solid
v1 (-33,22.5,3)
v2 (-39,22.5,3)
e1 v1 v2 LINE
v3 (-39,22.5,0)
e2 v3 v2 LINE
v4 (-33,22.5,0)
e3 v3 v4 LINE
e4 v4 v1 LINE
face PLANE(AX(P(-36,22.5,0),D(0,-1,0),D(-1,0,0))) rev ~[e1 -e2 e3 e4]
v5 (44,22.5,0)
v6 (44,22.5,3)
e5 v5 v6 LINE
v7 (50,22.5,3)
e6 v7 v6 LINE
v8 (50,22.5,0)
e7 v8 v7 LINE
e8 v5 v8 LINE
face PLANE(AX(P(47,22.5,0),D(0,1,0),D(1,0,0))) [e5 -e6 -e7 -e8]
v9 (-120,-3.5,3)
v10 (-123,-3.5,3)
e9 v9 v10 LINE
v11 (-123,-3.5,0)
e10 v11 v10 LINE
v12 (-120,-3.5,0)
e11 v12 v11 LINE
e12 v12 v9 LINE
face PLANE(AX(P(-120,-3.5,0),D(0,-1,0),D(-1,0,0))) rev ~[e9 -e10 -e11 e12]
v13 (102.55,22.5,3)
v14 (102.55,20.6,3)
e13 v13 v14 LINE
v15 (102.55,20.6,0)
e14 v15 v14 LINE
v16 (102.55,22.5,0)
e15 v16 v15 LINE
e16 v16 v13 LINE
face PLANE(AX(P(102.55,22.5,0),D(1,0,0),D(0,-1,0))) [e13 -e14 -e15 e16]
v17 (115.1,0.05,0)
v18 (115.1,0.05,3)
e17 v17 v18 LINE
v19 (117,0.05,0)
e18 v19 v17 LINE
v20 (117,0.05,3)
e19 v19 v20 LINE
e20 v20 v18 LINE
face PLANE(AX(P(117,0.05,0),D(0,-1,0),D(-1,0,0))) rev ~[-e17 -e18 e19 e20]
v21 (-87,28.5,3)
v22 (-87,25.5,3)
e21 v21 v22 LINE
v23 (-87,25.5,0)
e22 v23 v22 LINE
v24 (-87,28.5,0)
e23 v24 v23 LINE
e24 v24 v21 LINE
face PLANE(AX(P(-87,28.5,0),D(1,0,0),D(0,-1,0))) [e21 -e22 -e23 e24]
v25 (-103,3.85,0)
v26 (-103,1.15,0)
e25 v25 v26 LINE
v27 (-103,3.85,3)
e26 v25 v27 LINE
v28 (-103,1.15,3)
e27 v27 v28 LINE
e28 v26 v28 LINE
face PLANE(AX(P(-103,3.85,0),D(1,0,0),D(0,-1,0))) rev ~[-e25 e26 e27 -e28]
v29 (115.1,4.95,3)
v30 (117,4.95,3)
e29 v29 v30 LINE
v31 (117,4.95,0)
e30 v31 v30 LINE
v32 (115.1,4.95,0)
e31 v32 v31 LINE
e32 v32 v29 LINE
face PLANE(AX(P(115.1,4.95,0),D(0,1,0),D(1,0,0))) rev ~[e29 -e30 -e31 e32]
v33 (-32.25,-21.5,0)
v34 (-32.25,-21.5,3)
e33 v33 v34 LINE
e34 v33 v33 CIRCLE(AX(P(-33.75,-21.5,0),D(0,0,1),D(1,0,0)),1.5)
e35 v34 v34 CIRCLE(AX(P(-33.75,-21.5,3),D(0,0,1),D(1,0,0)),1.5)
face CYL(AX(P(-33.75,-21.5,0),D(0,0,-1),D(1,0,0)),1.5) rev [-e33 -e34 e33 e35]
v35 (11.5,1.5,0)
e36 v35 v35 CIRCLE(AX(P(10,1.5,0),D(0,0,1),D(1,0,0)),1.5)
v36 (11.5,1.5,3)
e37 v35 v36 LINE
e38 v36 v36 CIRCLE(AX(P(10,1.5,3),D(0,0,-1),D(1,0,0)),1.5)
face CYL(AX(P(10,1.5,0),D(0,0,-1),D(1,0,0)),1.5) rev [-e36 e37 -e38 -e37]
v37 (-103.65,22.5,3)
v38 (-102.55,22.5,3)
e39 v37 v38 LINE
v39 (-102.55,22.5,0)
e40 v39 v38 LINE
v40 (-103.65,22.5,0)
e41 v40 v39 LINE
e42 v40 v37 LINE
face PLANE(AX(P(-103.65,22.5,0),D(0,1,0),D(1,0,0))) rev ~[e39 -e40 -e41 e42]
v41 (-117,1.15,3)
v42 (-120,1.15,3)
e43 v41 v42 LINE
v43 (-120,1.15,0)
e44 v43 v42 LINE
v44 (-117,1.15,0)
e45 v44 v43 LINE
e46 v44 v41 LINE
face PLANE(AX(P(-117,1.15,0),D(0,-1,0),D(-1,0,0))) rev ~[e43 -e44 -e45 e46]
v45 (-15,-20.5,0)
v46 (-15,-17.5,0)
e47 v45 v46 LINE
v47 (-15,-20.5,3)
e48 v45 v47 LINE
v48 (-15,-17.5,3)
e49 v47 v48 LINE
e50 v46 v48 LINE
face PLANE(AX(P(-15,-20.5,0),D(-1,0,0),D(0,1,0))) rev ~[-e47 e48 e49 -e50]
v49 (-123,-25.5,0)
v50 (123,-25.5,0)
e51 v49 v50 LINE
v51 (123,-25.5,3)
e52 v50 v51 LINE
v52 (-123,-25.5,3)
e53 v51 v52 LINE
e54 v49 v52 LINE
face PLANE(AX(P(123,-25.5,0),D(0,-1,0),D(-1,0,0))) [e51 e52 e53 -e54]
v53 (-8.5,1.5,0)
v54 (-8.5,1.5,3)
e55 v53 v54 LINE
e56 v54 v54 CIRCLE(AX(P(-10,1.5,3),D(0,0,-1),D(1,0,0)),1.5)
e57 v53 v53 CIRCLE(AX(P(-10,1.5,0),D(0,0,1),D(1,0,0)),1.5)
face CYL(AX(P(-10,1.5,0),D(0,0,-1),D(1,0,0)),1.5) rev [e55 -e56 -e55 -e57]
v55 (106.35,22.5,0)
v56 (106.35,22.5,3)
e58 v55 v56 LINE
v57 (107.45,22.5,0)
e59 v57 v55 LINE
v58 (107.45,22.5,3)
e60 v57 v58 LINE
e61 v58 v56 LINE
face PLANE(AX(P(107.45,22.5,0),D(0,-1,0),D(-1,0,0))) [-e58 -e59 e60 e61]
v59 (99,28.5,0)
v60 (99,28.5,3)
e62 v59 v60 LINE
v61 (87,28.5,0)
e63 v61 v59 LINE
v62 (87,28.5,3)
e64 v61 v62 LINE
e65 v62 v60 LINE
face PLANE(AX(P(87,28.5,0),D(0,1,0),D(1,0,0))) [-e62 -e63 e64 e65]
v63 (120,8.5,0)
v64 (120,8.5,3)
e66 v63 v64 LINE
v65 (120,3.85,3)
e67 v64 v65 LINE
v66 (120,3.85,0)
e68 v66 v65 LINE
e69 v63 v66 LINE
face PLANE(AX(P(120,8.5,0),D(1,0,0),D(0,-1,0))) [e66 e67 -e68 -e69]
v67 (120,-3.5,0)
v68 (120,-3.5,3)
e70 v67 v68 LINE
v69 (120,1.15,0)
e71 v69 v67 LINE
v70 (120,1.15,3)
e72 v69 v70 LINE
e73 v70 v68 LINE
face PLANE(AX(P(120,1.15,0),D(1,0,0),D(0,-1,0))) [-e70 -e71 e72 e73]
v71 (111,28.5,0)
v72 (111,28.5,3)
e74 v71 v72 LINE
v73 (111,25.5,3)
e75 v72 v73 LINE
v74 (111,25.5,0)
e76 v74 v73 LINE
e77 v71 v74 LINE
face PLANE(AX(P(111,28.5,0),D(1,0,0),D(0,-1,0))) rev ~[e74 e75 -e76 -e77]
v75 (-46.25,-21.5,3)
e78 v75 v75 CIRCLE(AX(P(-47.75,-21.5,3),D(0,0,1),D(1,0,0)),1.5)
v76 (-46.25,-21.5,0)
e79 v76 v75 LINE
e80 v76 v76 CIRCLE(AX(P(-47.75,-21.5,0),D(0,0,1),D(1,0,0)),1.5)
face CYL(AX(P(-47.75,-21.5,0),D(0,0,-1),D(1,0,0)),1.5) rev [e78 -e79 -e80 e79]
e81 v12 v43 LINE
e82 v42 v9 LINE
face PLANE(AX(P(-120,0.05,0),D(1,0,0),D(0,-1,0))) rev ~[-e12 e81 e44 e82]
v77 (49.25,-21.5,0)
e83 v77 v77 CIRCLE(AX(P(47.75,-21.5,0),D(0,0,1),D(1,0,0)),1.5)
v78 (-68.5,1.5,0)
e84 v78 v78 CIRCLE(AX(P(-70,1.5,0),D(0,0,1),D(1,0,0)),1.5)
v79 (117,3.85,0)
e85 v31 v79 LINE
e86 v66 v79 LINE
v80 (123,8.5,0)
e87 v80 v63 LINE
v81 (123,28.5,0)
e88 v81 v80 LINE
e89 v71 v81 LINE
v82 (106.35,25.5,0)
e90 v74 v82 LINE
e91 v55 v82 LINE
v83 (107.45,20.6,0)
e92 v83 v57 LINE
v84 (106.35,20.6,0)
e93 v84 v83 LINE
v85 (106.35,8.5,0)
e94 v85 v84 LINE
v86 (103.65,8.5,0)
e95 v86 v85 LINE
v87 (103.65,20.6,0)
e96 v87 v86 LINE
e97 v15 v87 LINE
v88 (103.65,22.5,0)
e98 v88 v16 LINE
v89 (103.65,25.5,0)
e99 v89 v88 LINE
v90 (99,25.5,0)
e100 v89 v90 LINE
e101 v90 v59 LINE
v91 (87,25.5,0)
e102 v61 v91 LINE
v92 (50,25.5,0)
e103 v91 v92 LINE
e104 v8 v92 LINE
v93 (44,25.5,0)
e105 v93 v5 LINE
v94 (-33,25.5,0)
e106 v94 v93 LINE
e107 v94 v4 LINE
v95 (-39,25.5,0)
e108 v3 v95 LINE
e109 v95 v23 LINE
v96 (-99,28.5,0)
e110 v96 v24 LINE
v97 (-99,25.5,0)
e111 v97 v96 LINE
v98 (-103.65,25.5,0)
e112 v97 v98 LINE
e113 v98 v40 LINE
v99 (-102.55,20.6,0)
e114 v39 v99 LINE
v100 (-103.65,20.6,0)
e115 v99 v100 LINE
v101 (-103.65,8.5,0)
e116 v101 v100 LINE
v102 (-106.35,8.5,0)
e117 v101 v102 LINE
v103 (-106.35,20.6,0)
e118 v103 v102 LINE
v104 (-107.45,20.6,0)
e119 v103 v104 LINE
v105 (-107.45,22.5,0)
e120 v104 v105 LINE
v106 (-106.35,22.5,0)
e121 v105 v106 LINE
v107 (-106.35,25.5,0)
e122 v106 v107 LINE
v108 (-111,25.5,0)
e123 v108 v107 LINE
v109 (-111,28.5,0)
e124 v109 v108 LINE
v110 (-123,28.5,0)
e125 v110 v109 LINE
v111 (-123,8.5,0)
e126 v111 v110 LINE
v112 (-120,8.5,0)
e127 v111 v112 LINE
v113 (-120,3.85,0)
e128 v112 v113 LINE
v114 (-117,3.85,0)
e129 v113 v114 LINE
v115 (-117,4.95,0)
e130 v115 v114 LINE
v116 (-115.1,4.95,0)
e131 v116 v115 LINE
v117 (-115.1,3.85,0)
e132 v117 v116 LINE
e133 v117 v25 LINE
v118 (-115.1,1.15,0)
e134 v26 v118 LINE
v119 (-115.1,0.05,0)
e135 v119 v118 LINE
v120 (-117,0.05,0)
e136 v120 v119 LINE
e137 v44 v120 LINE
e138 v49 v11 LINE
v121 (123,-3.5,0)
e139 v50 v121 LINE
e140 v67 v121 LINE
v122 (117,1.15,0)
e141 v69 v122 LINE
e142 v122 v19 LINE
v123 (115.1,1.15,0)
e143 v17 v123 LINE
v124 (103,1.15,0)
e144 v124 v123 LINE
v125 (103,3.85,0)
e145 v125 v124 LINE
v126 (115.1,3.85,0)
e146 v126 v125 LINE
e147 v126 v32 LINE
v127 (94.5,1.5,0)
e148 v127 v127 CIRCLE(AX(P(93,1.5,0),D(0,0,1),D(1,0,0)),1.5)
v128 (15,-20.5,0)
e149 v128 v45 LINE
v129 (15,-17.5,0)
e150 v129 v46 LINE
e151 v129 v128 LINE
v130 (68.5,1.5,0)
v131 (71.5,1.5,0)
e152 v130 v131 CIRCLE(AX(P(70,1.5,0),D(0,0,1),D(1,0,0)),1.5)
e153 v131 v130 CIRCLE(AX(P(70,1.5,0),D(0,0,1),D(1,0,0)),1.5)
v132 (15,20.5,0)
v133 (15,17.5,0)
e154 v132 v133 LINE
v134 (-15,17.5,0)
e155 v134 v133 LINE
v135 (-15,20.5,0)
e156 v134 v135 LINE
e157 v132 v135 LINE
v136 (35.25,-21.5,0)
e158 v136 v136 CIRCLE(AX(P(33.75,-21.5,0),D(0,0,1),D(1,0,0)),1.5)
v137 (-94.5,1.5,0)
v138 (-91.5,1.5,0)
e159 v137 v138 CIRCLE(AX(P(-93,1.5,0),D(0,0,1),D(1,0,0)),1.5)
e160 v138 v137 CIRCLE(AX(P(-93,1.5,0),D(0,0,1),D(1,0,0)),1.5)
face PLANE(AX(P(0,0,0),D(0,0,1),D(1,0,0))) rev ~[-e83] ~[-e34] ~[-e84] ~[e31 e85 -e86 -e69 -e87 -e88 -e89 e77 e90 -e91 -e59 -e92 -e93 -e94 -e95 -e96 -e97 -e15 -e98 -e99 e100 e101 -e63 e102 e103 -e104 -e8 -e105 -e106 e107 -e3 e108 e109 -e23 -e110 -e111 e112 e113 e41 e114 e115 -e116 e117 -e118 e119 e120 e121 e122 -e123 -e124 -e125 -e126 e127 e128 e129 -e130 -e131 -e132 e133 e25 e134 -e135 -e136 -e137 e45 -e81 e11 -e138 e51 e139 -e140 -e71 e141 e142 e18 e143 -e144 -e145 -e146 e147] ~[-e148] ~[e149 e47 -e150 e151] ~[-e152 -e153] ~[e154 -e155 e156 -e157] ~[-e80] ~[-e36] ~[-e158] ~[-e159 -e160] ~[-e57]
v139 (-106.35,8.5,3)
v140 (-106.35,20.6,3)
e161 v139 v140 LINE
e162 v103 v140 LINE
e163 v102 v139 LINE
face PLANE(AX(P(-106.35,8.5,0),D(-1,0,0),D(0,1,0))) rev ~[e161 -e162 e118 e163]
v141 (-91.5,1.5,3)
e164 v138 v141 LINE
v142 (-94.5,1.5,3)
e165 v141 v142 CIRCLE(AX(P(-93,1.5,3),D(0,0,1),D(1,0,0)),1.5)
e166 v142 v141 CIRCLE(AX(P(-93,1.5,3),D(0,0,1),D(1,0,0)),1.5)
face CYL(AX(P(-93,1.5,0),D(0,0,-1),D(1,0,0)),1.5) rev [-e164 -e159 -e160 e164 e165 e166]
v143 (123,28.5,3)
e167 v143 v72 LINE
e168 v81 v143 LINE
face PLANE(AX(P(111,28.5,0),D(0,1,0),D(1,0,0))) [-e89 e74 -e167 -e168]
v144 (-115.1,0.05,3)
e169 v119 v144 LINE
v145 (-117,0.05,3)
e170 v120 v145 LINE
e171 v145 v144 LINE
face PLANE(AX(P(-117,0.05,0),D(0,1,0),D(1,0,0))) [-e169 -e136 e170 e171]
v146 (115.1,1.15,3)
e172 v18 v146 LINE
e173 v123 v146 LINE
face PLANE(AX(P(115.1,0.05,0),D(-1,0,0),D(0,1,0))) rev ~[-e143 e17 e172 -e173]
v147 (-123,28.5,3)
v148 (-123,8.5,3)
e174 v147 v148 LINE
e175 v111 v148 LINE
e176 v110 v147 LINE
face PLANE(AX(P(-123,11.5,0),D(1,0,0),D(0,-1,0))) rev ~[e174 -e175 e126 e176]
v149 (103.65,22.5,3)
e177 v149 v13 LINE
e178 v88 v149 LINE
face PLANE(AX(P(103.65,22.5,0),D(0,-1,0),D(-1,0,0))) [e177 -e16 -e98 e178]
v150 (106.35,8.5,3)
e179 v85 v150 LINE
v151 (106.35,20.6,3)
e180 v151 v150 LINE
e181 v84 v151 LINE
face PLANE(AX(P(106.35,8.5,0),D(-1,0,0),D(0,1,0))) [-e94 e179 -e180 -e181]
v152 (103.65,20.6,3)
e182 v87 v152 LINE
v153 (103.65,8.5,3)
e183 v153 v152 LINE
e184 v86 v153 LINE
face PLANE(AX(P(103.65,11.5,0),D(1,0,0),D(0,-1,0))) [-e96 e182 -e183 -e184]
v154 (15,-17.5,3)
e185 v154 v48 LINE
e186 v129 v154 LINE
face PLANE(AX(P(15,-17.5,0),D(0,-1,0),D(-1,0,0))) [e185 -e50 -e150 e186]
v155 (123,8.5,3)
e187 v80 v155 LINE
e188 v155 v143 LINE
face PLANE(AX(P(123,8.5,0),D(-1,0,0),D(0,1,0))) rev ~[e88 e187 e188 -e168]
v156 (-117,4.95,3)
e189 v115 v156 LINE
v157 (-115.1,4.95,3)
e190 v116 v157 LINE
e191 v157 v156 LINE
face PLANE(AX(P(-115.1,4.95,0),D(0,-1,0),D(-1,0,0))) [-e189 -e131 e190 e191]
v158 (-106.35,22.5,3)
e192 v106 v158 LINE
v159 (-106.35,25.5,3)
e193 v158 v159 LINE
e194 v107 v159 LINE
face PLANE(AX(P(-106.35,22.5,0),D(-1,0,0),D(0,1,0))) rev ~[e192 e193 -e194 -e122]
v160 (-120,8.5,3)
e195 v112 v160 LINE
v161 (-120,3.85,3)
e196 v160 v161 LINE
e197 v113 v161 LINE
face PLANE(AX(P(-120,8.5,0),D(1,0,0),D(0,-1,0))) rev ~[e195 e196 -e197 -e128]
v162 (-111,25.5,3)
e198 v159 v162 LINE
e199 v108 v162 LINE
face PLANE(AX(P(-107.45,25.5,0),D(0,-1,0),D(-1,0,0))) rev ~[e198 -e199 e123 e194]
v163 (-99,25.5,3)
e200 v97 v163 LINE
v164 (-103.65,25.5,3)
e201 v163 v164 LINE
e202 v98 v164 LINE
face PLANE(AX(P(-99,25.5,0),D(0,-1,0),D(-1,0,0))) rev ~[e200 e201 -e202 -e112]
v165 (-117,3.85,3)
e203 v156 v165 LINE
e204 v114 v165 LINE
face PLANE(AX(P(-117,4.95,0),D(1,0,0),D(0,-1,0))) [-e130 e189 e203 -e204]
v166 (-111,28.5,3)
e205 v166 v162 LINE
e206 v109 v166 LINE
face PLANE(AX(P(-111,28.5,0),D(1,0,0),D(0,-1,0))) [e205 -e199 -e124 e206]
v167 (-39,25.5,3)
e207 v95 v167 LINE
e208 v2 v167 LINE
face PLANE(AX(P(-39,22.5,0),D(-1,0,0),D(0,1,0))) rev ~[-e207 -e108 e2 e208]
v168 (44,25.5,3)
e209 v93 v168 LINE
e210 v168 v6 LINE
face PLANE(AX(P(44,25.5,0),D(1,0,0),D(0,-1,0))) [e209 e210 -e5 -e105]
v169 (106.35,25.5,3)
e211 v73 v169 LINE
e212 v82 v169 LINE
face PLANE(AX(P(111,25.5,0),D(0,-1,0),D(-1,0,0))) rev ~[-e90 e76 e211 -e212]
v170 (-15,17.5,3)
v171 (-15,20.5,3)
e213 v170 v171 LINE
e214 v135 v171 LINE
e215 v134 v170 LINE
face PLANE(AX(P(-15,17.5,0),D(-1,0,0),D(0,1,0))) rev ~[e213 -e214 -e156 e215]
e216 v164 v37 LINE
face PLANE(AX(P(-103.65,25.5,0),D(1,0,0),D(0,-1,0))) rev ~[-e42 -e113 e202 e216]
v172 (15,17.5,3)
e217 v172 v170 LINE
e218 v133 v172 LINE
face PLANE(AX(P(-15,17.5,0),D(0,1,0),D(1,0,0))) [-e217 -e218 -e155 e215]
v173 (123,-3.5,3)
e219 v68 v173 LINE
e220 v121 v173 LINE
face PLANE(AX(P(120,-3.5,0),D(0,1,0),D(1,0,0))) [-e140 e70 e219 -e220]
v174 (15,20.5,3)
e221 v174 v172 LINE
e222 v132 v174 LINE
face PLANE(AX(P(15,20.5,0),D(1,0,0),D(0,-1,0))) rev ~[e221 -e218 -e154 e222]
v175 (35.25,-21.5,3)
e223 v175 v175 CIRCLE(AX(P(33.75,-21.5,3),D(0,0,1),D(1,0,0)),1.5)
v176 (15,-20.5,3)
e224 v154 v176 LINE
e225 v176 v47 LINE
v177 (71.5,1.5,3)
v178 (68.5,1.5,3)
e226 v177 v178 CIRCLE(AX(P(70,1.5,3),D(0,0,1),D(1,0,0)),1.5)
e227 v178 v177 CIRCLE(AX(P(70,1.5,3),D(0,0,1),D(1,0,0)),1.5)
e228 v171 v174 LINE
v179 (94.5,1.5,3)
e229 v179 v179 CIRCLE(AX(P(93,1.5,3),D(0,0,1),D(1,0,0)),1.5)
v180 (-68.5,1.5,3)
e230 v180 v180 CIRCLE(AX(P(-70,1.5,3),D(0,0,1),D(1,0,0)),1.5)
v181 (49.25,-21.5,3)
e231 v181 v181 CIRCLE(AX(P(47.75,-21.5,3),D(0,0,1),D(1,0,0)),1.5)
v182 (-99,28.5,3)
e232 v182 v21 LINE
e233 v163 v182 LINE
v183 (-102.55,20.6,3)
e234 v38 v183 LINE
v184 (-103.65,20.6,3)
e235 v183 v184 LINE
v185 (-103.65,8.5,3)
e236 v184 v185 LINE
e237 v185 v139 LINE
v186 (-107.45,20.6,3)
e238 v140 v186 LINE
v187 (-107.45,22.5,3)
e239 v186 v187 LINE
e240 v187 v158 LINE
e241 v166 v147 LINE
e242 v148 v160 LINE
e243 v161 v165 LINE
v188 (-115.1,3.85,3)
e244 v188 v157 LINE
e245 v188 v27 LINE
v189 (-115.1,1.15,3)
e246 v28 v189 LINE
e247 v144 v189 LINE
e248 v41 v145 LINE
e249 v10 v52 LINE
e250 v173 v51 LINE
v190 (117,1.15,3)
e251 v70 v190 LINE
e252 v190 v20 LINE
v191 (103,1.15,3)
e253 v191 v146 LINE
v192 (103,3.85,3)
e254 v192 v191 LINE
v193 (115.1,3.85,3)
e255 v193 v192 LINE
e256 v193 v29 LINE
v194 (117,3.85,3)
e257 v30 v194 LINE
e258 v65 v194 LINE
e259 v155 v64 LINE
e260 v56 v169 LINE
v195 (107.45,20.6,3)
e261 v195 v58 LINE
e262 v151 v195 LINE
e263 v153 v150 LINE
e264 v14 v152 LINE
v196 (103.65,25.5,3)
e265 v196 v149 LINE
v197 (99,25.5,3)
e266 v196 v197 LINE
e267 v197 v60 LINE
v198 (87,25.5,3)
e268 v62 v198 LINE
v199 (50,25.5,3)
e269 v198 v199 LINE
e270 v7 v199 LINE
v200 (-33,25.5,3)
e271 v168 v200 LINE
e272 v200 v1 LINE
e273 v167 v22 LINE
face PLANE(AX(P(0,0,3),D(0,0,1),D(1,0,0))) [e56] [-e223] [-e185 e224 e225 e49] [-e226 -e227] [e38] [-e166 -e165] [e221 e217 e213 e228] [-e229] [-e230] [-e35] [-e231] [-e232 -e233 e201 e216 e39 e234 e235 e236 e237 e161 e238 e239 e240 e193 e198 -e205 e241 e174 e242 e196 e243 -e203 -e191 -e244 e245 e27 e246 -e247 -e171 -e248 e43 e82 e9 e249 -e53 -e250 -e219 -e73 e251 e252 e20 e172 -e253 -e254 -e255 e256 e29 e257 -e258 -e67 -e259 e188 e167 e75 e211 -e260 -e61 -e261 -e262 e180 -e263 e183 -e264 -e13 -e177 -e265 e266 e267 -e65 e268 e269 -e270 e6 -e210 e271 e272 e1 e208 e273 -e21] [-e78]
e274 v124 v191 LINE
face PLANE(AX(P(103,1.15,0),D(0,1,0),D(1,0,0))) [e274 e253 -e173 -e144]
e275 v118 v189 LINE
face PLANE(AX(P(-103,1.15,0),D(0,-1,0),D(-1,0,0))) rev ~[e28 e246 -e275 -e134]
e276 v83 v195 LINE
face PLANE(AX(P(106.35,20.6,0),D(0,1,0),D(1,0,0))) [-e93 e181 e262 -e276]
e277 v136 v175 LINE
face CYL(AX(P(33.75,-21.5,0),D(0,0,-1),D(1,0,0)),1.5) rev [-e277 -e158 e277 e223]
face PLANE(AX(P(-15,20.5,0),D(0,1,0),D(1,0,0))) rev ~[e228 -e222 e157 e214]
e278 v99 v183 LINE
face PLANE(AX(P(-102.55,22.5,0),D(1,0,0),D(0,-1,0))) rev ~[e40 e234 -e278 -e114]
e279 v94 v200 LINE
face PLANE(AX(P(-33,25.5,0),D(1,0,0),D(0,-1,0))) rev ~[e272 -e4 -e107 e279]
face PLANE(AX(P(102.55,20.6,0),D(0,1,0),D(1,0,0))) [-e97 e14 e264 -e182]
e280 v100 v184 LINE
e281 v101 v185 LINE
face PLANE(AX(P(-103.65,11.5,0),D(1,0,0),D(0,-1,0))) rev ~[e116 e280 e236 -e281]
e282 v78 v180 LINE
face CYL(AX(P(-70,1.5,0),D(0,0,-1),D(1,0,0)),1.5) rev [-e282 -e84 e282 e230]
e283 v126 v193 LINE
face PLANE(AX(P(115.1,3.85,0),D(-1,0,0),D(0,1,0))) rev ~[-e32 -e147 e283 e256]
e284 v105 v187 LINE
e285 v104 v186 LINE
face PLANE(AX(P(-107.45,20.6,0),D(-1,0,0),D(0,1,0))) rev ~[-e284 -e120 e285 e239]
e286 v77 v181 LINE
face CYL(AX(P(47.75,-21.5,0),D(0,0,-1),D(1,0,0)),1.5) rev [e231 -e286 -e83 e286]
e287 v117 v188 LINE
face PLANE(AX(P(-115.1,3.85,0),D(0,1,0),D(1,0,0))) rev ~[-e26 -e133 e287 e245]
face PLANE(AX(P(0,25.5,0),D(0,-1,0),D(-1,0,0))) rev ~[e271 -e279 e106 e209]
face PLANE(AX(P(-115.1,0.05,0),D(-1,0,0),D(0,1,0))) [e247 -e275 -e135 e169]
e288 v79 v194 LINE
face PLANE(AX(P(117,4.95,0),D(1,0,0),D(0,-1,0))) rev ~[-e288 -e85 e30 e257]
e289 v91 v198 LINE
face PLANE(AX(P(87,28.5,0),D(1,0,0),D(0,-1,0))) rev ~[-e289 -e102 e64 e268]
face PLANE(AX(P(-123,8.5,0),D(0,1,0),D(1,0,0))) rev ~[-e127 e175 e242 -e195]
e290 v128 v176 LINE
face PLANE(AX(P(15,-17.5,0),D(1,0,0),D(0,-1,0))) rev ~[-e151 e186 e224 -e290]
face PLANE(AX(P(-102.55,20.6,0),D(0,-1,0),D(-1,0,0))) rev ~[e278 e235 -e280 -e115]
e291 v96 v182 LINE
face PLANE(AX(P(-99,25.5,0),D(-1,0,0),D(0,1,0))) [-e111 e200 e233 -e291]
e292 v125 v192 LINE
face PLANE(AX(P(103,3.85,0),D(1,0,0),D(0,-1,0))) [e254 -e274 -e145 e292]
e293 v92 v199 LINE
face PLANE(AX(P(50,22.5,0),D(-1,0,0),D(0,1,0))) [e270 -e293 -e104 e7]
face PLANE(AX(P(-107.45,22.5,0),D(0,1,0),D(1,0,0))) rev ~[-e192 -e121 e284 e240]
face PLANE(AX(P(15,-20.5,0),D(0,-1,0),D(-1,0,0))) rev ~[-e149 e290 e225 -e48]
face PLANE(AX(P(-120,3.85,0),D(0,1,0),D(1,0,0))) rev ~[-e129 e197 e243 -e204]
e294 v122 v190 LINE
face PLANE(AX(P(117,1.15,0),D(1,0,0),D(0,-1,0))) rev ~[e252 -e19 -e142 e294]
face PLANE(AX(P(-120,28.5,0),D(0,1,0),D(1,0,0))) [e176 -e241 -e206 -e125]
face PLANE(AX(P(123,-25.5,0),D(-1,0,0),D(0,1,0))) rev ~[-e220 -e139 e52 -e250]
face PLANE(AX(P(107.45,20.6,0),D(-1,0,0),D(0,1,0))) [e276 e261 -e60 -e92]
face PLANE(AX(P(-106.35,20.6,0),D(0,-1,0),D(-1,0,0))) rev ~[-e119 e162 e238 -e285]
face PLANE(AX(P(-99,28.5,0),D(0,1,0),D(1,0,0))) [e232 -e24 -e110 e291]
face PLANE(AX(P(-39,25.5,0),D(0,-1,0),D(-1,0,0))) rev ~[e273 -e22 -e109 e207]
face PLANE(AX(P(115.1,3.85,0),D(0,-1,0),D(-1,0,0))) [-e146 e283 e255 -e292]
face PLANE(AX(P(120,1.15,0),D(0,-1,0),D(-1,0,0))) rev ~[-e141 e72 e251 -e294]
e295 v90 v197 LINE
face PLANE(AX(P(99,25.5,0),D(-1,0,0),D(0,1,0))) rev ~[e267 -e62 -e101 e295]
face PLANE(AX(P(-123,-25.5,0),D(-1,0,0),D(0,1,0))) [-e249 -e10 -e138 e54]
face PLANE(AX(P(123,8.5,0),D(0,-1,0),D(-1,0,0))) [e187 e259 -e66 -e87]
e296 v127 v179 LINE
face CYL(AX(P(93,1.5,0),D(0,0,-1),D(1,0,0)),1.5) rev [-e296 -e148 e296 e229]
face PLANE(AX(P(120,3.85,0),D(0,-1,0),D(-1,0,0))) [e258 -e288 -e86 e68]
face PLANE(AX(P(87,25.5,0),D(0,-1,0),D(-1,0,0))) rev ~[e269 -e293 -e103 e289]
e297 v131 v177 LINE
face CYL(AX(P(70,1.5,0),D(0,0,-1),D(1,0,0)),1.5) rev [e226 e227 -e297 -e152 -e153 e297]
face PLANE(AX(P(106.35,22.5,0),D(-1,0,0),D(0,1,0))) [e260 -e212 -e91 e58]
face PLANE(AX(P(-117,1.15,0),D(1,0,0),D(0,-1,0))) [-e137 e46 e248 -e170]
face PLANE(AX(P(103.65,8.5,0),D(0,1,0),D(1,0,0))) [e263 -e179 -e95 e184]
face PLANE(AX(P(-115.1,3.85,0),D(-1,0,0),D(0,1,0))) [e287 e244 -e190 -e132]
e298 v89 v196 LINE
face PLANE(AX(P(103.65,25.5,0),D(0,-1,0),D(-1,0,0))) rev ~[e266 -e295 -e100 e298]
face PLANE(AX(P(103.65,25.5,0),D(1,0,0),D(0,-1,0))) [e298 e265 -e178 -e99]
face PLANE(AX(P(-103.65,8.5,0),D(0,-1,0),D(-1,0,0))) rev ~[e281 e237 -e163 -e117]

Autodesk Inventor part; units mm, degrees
ref_plane "YZ Plane" through (0, 0, 0) normal (1, 0, 0) x (0, 1, 0)
ref_plane "XZ Plane" through (0, 0, 0) normal (0, 1, 0) x (-1, 0, 0)
ref_plane "XY Plane" through (0, 0, 0) normal (0, 0, 1) x (1, 0, 0)
sketch "Эскиз1" plane through (0, 0, 0) normal (0, 0, 1) x (1, 0, 0)
  line L0 (125, -28.5) -> (-125, -28.5)
  line L1 (-125, -28.5) -> (-125, 28.5)
  line L2 (-125, 28.5) -> (125, 28.5)
  line L3 (125, 28.5) -> (125, -28.5)
  line L4 (125, -28.5) -> (-125, 28.5) construction
  line L5 (-125, -28.5) -> (125, 28.5) construction
  line L6 (-125, 28.5) -> (125, 28.5)
  line L7 (125, 11.5) -> (-125, 11.5)
  line L8 (-125, 11.5) -> (-125, 28.5)
  line L9 (-125, 11.5) -> (125, 11.5)
  line L10 (125, 11.5) -> (125, -8.5)
  line L11 (125, -8.5) -> (-125, -8.5)
  line L12 (-125, -8.5) -> (-125, 11.5)
  line L13 (-125, -8.5) -> (125, -8.5)
  line L14 (125, -8.5) -> (125, -25.5)
  line L15 (125, -25.5) -> (-125, -25.5)
  line L16 (-125, -25.5) -> (-125, -8.5)
  line L17 (-125, 28.5) -> (125, 28.5)
  line L18 (125, 25.5) -> (-125, 25.5)
  line L19 (-125, 25.5) -> (-125, 28.5)
  line L20 (-125, 28.5) -> (-111, 28.5)
  line L21 (-111, 28.5) -> (-111, 25.5)
  line L22 (-111, 25.5) -> (-125, 25.5)
  line L23 (-125, 25.5) -> (-125, 28.5)
  line L24 (-111, 25.5) -> (-99, 25.5)
  line L25 (-99, 25.5) -> (-99, 28.5)
  line L26 (-99, 28.5) -> (-111, 28.5)
  line L27 (-111, 28.5) -> (-111, 25.5)
  line L28 (-99, 28.5) -> (-87, 28.5)
  line L29 (-87, 28.5) -> (-87, 25.5)
  line L30 (-87, 25.5) -> (-99, 25.5)
  line L31 (-99, 25.5) -> (-99, 28.5)
  line L32 (-111, 28.5) -> (-106.35, 28.5)
  line L33 (-106.35, 28.5) -> (-103.65, 28.5)
  line L34 (-103.65, 28.5) -> (-103.65, 8.5)
  line L35 (-103.65, 8.5) -> (-106.35, 8.5)
  line L36 (-106.35, 8.5) -> (-106.35, 28.5)
  line L37 (-106.35, 25.5) -> (-107.45, 25.5)
  line L38 (-107.45, 22.5) -> (-106.35, 22.5)
  line L39 (-106.35, 22.5) -> (-106.35, 25.5)
  line L40 (-107.45, 22.5) -> (-102.55, 22.5)
  line L41 (-102.55, 22.5) -> (-102.55, 20.6)
  line L42 (-102.55, 20.6) -> (-107.45, 20.6)
  line L43 (-107.45, 20.6) -> (-107.45, 22.5)
  line L44 (125, -28.5) -> (125, 28.5)
  line L45 (111, 28.5) -> (111, 25.5)
  line L46 (99, 25.5) -> (99, 28.5)
  line L47 (87, 28.5) -> (87, 25.5)
  line L48 (103.65, 28.5) -> (103.65, 8.5)
  line L49 (103.65, 8.5) -> (106.35, 8.5)
  line L50 (106.35, 8.5) -> (106.35, 28.5)
  line L51 (106.35, 22.5) -> (106.35, 25.5)
  line L52 (107.45, 22.5) -> (102.55, 22.5)
  line L53 (102.55, 22.5) -> (102.55, 20.6)
  line L54 (102.55, 20.6) -> (107.45, 20.6)
  line L55 (107.45, 20.6) -> (107.45, 22.5)
  line L56 (-125, 11.5) -> (-96, 11.5)
  line L57 (-96, 11.5) -> (-96, -8.5)
  line L58 (-96, -8.5) -> (-125, -8.5)
  line L59 (-125, -8.5) -> (-125, 11.5)
  line L60 (-96, -8.5) -> (-67, -8.5)
  line L61 (-67, -8.5) -> (-67, 11.5)
  line L62 (-67, 11.5) -> (-96, 11.5)
  line L63 (-96, 11.5) -> (-96, -8.5)
  line L64 (-96, 1.5) -> (-93, 1.5)
  line L65 (-67, 1.5) -> (-70, 1.5)
  circle A0 centre (-70, 1.5) radius 1.5
  circle A1 centre (-93, 1.5) radius 1.5
  circle A2 centre (70, 1.5) radius 1.5
  circle A3 centre (93, 1.5) radius 1.5
  line L66 (-125, 28.5) -> (-122, 28.5)
  line L67 (-126, 8.5) -> (-125, 28.5)
  line L68 (-126, -3.5) -> (-126, 8.5)
  line L69 (-126, 1.15) -> (-126, 3.85)
  line L70 (-125, 28.5) -> (-123, 28.5)
  line L71 (-123, 28.5) -> (-123, 8.5)
  line L72 (-123, 8.5) -> (-125, 8.5)
  line L73 (-125, 8.5) -> (-125, 28.5)
  line L74 (-123, 8.5) -> (-126, 8.5)
  line L75 (-126, 8.5) -> (-126, -3.5)
  line L76 (-126, -3.5) -> (-123, -3.5)
  line L77 (-123, -3.5) -> (-123, 8.5)
  line L78 (-123, 28.5) -> (-120, 28.5)
  line L79 (-120, 28.5) -> (-120, -3.5)
  line L80 (-120, -3.5) -> (-123, -3.5)
  line L81 (-123, -3.5) -> (-123, 28.5)
  line L82 (-123, 8.5) -> (-120, 8.5)
  line L83 (-120, 8.5) -> (-120, -3.5)
  line L84 (-120, -3.5) -> (-123, -3.5)
  line L85 (-123, -3.5) -> (-123, 8.5)
  line L86 (-123, 8.5) -> (-123, 3.85)
  line L87 (-123, 3.85) -> (-103, 3.85)
  line L88 (-103, 3.85) -> (-103, 1.15)
  line L89 (-103, 1.15) -> (-123, 1.15)
  line L90 (-123, 1.15) -> (-123, 3.85)
  line L91 (-120, 1.15) -> (-117, 1.15)
  line L92 (-117, 1.15) -> (-117, 0.05)
  line L93 (-117, 0.05) -> (-120, 0.05)
  line L94 (-120, 0.05) -> (-120, 1.15)
  line L95 (-117, 0.05) -> (-115.1, 0.05)
  line L96 (-115.1, 0.05) -> (-115.1, 4.95)
  line L97 (-115.1, 4.95) -> (-117, 4.95)
  line L98 (-117, 4.95) -> (-117, 0.05)
  line L99 (123, 3.85) -> (103, 3.85)
  line L100 (103, 3.85) -> (103, 1.15)
  line L101 (103, 1.15) -> (123, 1.15)
  line L102 (120, 1.15) -> (117, 1.15)
  line L103 (117, 0.05) -> (115.1, 0.05)
  line L104 (115.1, 0.05) -> (115.1, 4.95)
  line L105 (115.1, 4.95) -> (117, 4.95)
  line L106 (117, 4.95) -> (117, 0.05)
  line L107 (126, -3.5) -> (123, -3.5)
  line L108 (120, 28.5) -> (120, -3.5)
  line L109 (120, -3.5) -> (123, -3.5)
  line L110 (123, -3.5) -> (123, 28.5)
  line L111 (123, 8.5) -> (125, 8.5)
  line L112 (123, 8.5) -> (120, 8.5)
  line L113 (-123, -3.5) -> (-125, -3.5)
  line L114 (-125, -3.5) -> (-125, -28.5)
  line L115 (-125, -28.5) -> (-123, -28.5)
  line L116 (-123, -28.5) -> (-123, -3.5)
  line L117 (123, -3.5) -> (125, -3.5)
  line L118 (125, -3.5) -> (125, -28.5)
  line L119 (125, -28.5) -> (123, -28.5)
  line L120 (123, -28.5) -> (123, -3.5)
  line L121 (-67, -8.5) -> (-14.5, -8.5)
  line L122 (-14.5, -28.5) -> (-67, -28.5)
  line L123 (-40.75, -28.5) -> (-33.75, -28.5)
  circle A4 centre (-33.75, -21.5) radius 1.5
  circle A5 centre (-47.75, -21.5) radius 1.5
  circle A6 centre (33.75, -21.5) radius 1.5
  circle A7 centre (47.75, -21.5) radius 1.5
  line L124 (-33.75, -25.5) -> (-47.75, -25.5)
  line L125 (-47.75, -28.5) -> (-33.75, -28.5)
  line L126 (-40.75, -28.5) -> (-28.75, -28.5)
  line L127 (-28.75, -28.5) -> (-28.75, -25.5)
  line L128 (-28.75, -25.5) -> (-40.75, -25.5)
  line L129 (-40.75, -28.5) -> (-52.75, -28.5)
  line L130 (-52.75, -28.5) -> (-52.75, -25.5)
  line L131 (-52.75, -25.5) -> (-40.75, -25.5)
  line L132 (-40.75, -25.5) -> (-40.75, -28.5)
  line L133 (28.75, -28.5) -> (28.75, -25.5)
  line L134 (52.75, -28.5) -> (52.75, -25.5)
  line L135 (52.5, -17.5) -> (-52.5, -17.5)
  line L136 (-52.5, -17.5) -> (-52.5, 17.5)
  line L137 (-52.5, 17.5) -> (52.5, 17.5)
  line L138 (52.5, 17.5) -> (52.5, -17.5)
  line L139 (52.5, -17.5) -> (-52.5, 17.5) construction
  line L140 (-52.5, -17.5) -> (52.5, 17.5) construction
  line L141 (15, 14.5) -> (-15, 14.5)
  line L142 (-15, 14.5) -> (-15, 20.5)
  line L143 (-15, 20.5) -> (15, 20.5)
  line L144 (15, 20.5) -> (15, 14.5)
  line L145 (15, 14.5) -> (-15, 20.5) construction
  line L146 (-15, 14.5) -> (15, 20.5) construction
  line L147 (15, -20.5) -> (-15, -20.5)
  line L148 (-15, -20.5) -> (-15, -14.5)
  line L149 (-15, -14.5) -> (15, -14.5)
  line L150 (15, -14.5) -> (15, -20.5)
  line L151 (15, -20.5) -> (-15, -14.5) construction
  line L152 (-15, -20.5) -> (15, -14.5) construction
  line L153 (0, 0) -> (-36, 0)
  line L154 (-36, 0) -> (-36, 28.5)
  line L155 (-36, 28.5) -> (0, 28.5)
  line L156 (0, 28.5) -> (0, 0)
  line L157 (0, 0) -> (47, 0)
  line L158 (47, 0) -> (47, 28.5)
  line L159 (47, 28.5) -> (0, 28.5)
  line L160 (0, 28.5) -> (0, 0)
  line L161 (-36, 28.5) -> (-33, 28.5)
  line L162 (-33, 28.5) -> (-33, 25.5)
  line L163 (-33, 25.5) -> (-36, 25.5)
  line L164 (-36, 25.5) -> (-36, 28.5)
  line L165 (-36, 28.5) -> (-39, 28.5)
  line L166 (-39, 28.5) -> (-39, 25.5)
  line L167 (-39, 25.5) -> (-36, 25.5)
  line L168 (-36, 25.5) -> (-36, 28.5)
  line L169 (47, 28.5) -> (44, 28.5)
  line L170 (44, 28.5) -> (44, 25.5)
  line L171 (44, 25.5) -> (47, 25.5)
  line L172 (47, 25.5) -> (47, 28.5)
  line L173 (47, 28.5) -> (50, 28.5)
  line L174 (50, 28.5) -> (50, 25.5)
  line L175 (50, 25.5) -> (47, 25.5)
  line L176 (47, 25.5) -> (47, 28.5)
  line L177 (-39, 25.5) -> (-33, 25.5)
  line L178 (-33, 25.5) -> (-33, 22.5)
  line L179 (-33, 22.5) -> (-39, 22.5)
  line L180 (-39, 22.5) -> (-39, 25.5)
  line L181 (50, 25.5) -> (44, 25.5)
  line L182 (44, 25.5) -> (44, 22.5)
  line L183 (44, 22.5) -> (50, 22.5)
  line L184 (50, 22.5) -> (50, 25.5)
  line L185 (-70, 1.5) -> (70, 1.5)
  line L186 (0, 1.5) -> (10, 1.5)
  line L187 (10, 1.5) -> (-10, 1.5)
  circle A8 centre (-10, 1.5) radius 1.5
  circle A9 centre (10, 1.5) radius 1.5
  point P0 (106.35, 20.6)
  point P1 (103.65, 20.6)
  point P2 (103.65, 22.5)
  point P3 (103.65, 25.5)
  point P4 (-103.65, 25.5)
  point P5 (-103.65, 22.5)
  point P6 (-103.65, 20.6)
  point P7 (-106.35, 20.6)
  point P8 (106.35, 11.5)
  point P9 (103.65, 11.5)
  point P10 (-103.65, 11.5)
  point P11 (-106.35, 11.5)
  point P12 (-120, 3.85)
  point P13 (-117, 3.85)
  point P14 (-115.1, 3.85)
  point P15 (-115.1, 1.15)
  point P16 (-117, 1.15)
  point P17 (-120, 1.15)
  point P18 (115.1, 1.15)
  point P19 (115.1, 3.85)
  point P20 (117, 3.85)
  point P21 (120, 3.85)
  point P22 (120, 11.5)
  point P23 (-123, -28.5)
  point P24 (123, 28.5)
  point P25 (0, 17.5)
  point P26 (0, -17.5)
  point P27 (-15, 17.5)
  point P28 (15, 17.5)
  point P29 (-15, -17.5)
  point P30 (15, -17.5)
  point P31 (-123, -25.5)
  point P32 (123, -25.5)
  dimension "d0" = 250
  dimension "d1" = 57
  dimension "d2" = 17
  dimension "d3" = 20
  dimension "d4" = 17
  dimension "d8" = 3
  dimension "d9" = 14
  dimension "d10" = 12
  dimension "d11" = 12
  dimension "d12" = 4.65
  dimension "d14" = 20
  dimension "d15" = 1.1
  dimension "d16" = 3
  dimension "d17" = 4.9
  dimension "d18" = 1.9
  dimension "d23" = 29
  dimension "d24" = 29
  dimension "d25" = 3
  dimension "d26" = 3
  dimension "d27" = 3
  dimension "d31" = 4.65
  dimension "d37" = 2
  dimension "d38" = 20
  dimension "d39" = 12
  dimension "d40" = 3
  dimension "d41" = 20
  dimension "d42" = 2.7
  dimension "d43" = 3
  dimension "d44" = 1.1
  dimension "d45" = 1.9
  dimension "d46" = 4.9
  dimension "d49" = 3
  dimension "d50" = 12
  dimension "d51" = 12
  dimension "d52" = 105
  dimension "d53" = 35
  dimension "d54" = 30
  dimension "d55" = 6
  dimension "d56" = 30
  dimension "d57" = 6
  dimension "d58" = 33.75
  dimension "d59" = 36
  dimension "d60" = 47
  dimension "d61" = 3
  dimension "d62" = 3
  dimension "d63" = 3
  dimension "d64" = 3
  dimension "d65" = 96
  dimension "d66" = 10
  dimension "d67" = 20
  dimension "d68" = 3
  dimension "d69" = 3
extrude "Выдавливание1" add sketch "Эскиз1" along normal blind 3 contours L15 L116 L11 L136 L135 L148 L147 L150 L138 L120 | L11 L138 L7 L48 L49 L50 L108 L99 L106 L105 L104 L100 L101 L103 L109 L120 | L138 L135 L150 L149 L148 L136 L11 | L11 L136 L185 L154 L153 L157 L158 L138 | L185 L158 L7 L138 | L112 L108 L7 L110 | L11 L61 L185 L136 | L138 L137 L158 L183 L184 L18 L48 L52 L53 L54 L7 | L7 L158 L137 L138 | L185 A9 L156 L7 L158 | L158 L157 A9 L185 | L135 L148 L149 L150 | L7 L108 L18 L110 | L11 L57 L7 L61 | L185 L61 L7 L136 | L136 L7 L154 L185 | L7 L156 L141 L144 L137 L158 | L18 L108 L2 L110 | L7 L50 L54 L55 L52 L18 L108 | L11 L116 L80 L79 L93 L95 L96 L89 L88 L87 L97 L98 L7 L36 L35 L34 L57 | L136 L137 L154 L7 | L7 L34 L42 L41 L40 L18 L180 L179 L154 L137 L136 | L185 A8 L153 L154 | L154 L7 L156 L185 A8 | L7 L154 L137 L142 L141 L156 | L137 L144 L143 L156 L18 L182 L183 L158 | L157 L156 L185 A9 | L18 L45 L2 L108 | L156 L137 L144 L141 | L141 L142 L137 L156 | L156 L153 A8 L185 | L154 L179 L178 L18 L156 L143 L142 L137 | L18 L47 L2 L46 | L89 L92 L93 L79 | L7 L79 L18 L36 L38 L43 L42 | L71 L7 L79 L82 | L7 L71 L18 L79 | L79 L2 L21 L18 | L18 L71 L2 L79 | L18 L25 L2 L29
equation "\"Радиус_гибки\" = Толщина"
equation "\"Ширина_просечки\" = Толщина"
equation "\"Глубина_просечки\" = 0.5 * Толщина"
equation "\"Размер_просечки\" = 4 * Толщина"
equation "\"Мин_остаток\" = 2 * Толщина"
equation "\"Радиус_перехода\" = Радиус_гибки"
equation "\"Радиус_Якоби\" = Радиус_гибки"
equation "\"Размер_зазора\" = Толщина"
equation "\"Толщина\" = 0.5"
properties part number "зад" material "Дерево (орех)"
